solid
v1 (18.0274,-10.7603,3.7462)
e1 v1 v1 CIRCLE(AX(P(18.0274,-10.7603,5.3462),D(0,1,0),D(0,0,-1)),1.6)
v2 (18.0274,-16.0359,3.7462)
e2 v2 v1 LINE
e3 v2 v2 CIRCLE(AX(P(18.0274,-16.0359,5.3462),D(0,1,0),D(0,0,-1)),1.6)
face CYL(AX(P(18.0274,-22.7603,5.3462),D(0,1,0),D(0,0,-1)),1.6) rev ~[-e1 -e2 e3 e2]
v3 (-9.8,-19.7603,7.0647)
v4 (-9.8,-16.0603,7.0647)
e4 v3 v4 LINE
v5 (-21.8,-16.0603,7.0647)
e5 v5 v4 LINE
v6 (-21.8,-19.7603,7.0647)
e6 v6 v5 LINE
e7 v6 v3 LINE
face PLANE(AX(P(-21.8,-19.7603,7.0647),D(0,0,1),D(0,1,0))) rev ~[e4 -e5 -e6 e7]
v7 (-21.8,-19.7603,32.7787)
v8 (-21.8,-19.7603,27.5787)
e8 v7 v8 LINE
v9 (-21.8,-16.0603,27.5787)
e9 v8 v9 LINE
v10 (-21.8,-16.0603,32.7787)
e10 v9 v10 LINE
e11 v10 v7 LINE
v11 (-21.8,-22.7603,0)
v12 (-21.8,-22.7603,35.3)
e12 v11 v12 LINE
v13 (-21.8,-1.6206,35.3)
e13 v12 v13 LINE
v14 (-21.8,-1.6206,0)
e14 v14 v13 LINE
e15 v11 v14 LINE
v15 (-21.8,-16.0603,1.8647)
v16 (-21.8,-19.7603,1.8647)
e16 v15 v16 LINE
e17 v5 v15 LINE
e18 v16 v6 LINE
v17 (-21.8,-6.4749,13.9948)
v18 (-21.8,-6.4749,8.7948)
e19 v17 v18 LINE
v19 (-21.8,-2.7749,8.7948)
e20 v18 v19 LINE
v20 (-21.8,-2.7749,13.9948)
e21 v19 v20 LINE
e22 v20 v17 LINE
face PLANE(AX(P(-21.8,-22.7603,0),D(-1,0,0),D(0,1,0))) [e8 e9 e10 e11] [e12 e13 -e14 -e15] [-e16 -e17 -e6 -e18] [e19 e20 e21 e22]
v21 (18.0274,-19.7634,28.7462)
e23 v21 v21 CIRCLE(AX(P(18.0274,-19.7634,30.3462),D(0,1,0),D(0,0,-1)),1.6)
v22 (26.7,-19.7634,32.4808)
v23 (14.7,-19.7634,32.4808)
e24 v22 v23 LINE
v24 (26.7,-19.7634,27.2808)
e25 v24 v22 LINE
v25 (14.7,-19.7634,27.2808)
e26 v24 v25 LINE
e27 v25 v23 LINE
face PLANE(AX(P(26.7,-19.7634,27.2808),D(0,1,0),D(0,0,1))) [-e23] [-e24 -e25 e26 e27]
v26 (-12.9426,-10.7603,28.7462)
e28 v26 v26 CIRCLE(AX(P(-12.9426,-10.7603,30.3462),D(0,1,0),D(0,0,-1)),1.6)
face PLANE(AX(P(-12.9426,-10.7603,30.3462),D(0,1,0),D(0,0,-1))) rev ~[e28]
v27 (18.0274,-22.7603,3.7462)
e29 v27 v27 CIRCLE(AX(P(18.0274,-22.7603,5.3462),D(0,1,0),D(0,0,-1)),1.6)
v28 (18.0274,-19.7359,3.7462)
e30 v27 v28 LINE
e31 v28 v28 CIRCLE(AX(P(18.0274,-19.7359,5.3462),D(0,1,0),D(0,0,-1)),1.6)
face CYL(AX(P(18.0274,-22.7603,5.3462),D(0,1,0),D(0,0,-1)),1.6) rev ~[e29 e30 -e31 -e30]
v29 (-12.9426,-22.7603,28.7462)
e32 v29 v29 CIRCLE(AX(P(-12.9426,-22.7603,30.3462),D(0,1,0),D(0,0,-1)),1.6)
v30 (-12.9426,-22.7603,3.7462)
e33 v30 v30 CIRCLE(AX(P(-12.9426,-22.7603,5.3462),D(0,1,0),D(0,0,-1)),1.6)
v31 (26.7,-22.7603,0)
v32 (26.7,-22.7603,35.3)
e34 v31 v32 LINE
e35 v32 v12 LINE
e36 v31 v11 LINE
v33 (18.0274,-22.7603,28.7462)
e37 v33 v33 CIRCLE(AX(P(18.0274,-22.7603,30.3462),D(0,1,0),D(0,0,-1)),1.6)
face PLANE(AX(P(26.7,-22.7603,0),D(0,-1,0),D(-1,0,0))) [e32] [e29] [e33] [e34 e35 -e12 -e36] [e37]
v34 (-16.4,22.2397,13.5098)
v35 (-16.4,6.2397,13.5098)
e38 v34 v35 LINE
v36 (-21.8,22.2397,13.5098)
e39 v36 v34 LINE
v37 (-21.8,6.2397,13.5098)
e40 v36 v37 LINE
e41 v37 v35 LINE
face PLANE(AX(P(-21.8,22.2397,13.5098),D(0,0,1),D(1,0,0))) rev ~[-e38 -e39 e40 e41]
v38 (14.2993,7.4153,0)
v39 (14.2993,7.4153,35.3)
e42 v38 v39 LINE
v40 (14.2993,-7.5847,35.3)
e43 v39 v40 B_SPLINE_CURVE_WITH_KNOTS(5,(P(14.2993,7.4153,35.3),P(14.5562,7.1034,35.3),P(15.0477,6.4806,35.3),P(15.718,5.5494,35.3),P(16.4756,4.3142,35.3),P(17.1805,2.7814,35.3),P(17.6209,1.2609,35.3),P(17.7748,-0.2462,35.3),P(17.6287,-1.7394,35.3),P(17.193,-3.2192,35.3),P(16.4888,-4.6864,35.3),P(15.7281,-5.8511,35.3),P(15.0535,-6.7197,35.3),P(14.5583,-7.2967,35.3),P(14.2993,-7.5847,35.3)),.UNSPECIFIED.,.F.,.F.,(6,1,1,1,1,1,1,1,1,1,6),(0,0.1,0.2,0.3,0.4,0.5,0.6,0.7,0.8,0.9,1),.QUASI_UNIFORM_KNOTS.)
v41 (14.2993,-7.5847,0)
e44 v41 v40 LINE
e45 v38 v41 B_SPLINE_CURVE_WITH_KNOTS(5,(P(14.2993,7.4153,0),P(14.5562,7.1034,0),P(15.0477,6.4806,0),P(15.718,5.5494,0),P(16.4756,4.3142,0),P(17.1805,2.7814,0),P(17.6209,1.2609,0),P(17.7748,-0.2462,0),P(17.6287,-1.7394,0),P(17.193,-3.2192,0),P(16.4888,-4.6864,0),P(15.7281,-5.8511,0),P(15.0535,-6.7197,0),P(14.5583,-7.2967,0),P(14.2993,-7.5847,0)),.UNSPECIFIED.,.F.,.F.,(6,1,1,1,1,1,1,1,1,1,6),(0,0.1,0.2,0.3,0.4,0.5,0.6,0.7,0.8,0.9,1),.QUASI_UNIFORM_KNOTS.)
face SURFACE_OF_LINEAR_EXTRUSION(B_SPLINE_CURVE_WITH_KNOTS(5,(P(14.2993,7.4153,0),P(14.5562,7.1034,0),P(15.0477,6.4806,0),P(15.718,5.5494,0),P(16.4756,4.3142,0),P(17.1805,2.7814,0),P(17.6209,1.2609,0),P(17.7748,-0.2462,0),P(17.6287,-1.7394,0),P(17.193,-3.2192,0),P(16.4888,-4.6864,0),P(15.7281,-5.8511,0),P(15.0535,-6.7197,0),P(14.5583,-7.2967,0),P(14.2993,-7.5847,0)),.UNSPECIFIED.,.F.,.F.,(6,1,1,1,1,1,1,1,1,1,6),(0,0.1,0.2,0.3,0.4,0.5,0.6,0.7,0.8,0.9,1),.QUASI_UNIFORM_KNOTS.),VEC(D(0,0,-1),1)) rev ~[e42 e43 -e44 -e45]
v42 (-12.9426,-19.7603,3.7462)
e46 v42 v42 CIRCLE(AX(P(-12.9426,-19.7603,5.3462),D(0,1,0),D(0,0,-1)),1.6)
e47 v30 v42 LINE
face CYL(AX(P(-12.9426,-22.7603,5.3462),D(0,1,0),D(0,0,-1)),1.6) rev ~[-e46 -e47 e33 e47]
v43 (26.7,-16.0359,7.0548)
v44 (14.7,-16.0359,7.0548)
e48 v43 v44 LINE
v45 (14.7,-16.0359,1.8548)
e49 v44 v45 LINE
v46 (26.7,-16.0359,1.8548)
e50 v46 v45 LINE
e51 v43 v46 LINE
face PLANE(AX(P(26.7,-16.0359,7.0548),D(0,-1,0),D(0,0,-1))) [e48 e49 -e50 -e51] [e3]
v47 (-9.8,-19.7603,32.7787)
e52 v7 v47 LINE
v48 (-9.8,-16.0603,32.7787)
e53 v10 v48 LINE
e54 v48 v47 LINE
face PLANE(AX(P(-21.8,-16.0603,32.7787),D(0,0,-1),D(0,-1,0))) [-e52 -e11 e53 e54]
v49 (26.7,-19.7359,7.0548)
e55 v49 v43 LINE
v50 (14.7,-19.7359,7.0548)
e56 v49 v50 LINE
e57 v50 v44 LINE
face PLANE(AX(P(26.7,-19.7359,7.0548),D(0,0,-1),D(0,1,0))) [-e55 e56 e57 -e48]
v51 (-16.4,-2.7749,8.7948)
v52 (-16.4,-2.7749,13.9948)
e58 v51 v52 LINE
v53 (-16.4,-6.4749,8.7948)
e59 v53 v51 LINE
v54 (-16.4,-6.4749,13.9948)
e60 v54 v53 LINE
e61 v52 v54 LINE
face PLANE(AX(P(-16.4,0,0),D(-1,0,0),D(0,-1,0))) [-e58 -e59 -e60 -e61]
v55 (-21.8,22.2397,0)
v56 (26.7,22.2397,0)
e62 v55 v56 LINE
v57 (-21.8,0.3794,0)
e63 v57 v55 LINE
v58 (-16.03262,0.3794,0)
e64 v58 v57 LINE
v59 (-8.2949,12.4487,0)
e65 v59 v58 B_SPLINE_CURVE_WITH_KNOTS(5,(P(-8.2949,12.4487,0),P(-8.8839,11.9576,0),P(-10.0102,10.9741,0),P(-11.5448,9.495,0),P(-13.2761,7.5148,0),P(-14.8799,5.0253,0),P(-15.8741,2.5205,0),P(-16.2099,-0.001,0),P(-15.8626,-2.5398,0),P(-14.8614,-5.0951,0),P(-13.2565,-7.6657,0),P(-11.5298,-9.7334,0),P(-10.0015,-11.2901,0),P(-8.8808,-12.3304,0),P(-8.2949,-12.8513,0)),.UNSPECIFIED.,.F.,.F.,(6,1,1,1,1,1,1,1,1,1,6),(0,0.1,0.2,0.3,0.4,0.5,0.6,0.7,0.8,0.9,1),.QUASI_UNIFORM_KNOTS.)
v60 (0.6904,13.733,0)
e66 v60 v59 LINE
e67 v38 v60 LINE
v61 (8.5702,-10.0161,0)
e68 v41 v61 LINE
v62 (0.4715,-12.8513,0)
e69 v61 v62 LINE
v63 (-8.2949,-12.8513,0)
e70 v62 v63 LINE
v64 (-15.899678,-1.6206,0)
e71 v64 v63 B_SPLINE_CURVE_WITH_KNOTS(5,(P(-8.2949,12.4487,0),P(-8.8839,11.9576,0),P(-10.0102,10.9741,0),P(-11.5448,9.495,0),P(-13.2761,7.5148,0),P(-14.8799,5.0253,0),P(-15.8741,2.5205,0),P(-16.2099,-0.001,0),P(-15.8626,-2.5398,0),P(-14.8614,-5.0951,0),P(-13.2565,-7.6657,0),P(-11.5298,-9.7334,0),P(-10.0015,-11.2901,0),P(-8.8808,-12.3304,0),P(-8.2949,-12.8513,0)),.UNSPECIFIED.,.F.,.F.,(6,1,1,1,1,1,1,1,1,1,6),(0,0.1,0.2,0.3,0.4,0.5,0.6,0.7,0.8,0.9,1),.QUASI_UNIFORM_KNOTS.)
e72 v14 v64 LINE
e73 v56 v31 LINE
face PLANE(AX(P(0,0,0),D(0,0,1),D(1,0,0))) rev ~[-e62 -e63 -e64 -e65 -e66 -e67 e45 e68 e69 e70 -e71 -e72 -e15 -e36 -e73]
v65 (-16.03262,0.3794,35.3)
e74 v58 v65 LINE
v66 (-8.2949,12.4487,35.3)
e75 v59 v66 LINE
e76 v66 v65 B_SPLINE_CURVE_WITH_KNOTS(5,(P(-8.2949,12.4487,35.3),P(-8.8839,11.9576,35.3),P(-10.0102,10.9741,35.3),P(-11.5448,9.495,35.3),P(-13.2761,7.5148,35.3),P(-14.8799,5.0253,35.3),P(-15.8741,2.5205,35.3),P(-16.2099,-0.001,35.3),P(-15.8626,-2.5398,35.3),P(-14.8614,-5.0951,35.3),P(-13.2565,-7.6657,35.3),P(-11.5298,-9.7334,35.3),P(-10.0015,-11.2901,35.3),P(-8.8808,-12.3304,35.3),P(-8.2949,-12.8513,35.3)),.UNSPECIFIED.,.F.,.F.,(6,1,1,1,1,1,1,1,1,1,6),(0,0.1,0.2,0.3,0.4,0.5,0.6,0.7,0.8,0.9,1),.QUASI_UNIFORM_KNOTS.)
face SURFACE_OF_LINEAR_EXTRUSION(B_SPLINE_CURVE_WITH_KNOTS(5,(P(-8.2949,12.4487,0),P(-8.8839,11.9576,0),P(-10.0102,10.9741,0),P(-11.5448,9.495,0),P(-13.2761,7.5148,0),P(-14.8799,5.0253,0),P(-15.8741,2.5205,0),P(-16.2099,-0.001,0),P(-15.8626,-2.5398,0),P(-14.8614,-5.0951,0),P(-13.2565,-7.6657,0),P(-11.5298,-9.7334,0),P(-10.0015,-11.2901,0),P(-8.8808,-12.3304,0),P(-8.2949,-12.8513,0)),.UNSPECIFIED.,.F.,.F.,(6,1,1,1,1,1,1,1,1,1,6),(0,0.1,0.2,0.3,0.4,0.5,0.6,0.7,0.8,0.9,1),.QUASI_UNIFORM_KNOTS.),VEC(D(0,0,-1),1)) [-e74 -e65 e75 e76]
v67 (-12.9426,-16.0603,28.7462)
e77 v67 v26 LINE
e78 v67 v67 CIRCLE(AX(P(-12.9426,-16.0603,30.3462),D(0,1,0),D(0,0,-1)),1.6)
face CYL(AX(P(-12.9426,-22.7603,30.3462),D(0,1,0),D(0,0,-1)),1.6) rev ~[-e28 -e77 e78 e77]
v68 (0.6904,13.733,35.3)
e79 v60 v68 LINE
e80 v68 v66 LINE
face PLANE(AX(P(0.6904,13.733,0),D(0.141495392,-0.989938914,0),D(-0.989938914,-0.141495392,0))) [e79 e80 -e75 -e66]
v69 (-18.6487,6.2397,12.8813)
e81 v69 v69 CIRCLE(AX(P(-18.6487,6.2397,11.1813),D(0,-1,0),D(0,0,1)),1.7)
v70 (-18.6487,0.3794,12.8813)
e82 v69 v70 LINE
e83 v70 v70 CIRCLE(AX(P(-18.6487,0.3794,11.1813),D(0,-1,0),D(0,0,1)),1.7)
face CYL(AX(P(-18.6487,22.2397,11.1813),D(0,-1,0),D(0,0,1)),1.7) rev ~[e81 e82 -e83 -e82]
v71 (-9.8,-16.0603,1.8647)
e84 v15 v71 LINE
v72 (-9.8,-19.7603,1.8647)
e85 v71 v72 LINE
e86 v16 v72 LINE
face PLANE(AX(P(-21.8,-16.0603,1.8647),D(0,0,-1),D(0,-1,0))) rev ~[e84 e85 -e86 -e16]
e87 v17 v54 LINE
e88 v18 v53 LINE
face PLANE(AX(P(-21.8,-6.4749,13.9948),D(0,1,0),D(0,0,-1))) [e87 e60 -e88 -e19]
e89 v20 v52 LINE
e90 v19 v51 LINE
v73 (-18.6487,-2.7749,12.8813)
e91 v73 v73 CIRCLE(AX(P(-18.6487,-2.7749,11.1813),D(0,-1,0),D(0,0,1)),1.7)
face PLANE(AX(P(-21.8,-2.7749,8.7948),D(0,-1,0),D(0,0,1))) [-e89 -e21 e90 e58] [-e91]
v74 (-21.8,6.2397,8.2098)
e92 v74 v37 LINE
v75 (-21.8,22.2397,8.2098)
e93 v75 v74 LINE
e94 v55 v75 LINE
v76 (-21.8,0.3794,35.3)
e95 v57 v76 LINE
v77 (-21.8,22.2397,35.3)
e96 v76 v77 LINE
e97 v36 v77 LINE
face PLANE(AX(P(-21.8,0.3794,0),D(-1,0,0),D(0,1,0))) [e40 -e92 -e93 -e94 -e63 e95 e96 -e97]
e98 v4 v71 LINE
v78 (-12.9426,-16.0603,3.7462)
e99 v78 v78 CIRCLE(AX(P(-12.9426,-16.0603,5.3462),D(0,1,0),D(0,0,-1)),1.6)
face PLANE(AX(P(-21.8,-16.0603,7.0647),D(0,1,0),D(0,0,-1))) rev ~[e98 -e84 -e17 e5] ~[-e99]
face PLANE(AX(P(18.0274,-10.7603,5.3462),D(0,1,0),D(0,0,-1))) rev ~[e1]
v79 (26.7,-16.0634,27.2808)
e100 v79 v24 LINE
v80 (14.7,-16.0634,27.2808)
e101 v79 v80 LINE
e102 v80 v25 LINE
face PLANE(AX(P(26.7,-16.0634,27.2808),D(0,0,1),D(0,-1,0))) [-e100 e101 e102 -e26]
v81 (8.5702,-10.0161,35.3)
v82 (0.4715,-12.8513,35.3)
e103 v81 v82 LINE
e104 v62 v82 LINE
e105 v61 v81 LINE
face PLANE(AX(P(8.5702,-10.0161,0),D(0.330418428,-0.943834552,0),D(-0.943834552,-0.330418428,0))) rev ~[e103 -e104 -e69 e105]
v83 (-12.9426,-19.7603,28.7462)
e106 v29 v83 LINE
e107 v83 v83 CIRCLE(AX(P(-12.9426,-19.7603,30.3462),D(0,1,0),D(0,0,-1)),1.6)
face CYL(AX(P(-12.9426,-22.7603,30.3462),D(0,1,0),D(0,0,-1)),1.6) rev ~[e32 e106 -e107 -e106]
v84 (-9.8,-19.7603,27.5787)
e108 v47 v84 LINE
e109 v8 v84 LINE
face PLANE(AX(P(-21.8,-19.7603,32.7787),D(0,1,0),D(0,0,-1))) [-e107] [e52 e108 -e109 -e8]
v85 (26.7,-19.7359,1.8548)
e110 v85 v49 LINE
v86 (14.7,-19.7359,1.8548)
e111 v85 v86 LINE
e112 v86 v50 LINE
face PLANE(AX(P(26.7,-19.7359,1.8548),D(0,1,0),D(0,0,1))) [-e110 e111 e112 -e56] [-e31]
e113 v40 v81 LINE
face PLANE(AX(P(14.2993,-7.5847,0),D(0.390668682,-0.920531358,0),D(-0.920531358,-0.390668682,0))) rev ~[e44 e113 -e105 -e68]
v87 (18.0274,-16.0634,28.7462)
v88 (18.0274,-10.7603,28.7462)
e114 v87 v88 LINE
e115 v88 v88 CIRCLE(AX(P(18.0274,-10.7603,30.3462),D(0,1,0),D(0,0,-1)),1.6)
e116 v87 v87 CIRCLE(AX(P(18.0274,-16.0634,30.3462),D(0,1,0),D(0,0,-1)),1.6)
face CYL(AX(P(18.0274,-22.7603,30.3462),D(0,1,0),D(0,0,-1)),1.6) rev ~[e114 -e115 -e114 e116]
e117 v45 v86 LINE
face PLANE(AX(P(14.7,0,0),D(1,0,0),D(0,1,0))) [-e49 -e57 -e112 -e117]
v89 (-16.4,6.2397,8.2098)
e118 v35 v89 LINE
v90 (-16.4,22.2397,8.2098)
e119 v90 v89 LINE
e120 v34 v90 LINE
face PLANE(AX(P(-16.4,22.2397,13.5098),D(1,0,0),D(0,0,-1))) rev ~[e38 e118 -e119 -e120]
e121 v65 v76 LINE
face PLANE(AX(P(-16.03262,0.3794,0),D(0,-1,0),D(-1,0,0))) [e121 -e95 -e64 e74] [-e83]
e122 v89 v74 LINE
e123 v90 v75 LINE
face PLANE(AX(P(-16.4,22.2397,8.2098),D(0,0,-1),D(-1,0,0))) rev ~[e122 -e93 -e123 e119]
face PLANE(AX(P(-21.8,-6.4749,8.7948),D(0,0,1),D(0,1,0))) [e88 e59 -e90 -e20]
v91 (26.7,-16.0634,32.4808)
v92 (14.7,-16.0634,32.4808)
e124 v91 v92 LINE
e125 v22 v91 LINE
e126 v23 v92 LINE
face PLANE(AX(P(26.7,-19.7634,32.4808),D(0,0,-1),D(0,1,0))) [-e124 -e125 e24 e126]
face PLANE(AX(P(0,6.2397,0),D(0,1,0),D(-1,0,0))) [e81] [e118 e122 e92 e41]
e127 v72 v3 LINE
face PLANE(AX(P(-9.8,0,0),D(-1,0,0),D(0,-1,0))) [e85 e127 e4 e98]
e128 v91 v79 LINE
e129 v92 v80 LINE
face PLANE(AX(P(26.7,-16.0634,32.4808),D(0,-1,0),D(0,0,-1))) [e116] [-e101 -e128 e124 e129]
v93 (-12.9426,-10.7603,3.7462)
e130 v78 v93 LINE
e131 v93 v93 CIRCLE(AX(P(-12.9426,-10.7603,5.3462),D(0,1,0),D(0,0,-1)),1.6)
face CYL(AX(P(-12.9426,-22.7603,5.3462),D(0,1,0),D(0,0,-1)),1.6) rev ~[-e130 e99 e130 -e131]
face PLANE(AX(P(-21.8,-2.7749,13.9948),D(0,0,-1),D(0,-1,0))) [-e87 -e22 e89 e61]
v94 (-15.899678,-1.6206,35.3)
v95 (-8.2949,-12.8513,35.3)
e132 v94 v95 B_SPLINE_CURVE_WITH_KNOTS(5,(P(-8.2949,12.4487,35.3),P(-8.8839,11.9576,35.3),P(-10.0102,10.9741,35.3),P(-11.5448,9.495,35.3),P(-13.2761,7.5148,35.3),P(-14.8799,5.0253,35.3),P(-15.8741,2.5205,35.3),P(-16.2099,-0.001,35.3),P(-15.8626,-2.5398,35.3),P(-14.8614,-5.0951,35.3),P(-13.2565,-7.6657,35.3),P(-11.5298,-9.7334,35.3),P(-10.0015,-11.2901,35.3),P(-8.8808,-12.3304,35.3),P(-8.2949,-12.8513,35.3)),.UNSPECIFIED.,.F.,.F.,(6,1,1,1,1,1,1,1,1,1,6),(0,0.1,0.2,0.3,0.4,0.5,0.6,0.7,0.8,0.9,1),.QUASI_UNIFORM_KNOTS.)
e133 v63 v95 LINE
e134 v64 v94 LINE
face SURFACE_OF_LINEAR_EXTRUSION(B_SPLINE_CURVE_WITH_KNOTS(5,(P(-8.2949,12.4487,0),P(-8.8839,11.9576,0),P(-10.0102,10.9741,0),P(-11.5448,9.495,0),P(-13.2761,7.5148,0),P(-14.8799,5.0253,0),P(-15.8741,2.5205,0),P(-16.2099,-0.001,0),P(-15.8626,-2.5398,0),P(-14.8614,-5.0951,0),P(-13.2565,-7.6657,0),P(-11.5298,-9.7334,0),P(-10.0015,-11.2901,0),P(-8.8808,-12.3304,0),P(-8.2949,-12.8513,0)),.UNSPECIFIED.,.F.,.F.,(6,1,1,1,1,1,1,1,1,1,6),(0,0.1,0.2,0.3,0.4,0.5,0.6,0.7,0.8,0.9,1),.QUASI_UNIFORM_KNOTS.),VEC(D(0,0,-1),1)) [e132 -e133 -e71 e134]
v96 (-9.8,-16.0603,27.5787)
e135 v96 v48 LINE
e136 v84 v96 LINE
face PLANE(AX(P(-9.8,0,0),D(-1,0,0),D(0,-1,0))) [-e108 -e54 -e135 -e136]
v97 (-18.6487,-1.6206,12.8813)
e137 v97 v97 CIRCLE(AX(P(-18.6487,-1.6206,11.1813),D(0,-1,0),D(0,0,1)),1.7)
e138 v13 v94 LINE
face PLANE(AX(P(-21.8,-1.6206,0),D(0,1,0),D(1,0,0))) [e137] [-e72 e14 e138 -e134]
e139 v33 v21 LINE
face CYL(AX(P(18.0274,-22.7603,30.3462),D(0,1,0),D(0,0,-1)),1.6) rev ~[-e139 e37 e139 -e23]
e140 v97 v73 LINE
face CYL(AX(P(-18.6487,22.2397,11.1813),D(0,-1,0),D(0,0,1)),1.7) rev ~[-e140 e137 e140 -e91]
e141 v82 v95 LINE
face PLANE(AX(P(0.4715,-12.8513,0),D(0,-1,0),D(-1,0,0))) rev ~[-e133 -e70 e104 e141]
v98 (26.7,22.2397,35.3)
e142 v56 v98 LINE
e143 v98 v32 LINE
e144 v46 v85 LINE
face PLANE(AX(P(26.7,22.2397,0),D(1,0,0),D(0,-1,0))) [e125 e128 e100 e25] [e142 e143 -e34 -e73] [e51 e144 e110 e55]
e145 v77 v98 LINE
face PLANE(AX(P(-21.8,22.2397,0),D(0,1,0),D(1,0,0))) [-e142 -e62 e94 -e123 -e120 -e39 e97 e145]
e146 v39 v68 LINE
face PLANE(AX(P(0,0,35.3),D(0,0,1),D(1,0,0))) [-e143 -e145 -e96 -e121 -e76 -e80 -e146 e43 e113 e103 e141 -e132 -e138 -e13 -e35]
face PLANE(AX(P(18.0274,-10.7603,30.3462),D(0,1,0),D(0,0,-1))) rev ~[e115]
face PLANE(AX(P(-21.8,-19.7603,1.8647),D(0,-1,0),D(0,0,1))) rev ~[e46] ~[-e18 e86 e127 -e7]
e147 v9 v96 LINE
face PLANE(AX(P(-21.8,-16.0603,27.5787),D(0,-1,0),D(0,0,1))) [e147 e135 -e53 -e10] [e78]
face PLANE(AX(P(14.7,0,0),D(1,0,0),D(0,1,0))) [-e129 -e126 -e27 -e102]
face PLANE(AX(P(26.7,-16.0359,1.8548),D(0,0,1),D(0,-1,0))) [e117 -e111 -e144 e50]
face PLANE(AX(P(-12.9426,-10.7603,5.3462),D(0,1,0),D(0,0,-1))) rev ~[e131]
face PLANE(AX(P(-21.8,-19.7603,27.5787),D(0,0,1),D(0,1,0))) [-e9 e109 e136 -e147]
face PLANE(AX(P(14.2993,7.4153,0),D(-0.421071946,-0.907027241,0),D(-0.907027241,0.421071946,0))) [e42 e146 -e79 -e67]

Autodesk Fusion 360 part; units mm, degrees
sketch "Sketch1" plane through (0, 0, 0) normal (0, 0, 1) x (1, 0, 0)
  line L0 (-21.8, 22.2397) -> (26.7, 22.2397)
  line L1 (26.7, 22.2397) -> (26.7, -22.7603)
  line L2 (26.7, -22.7603) -> (-21.8, -22.7603)
  line L3 (-21.8, -22.7603) -> (-21.8, 22.2397)
  spline S0 degree 5 poles (-8.2949, 12.4487) (-8.8839, 11.9576) (-10.0102, 10.9741) (-11.5448, 9.495) (-13.2761, 7.5148) (-14.8799, 5.0253) (-15.8741, 2.5205) (-16.2099, -0.001) (-15.8626, -2.5398) (-14.8614, -5.0951) (-13.2565, -7.6657) (-11.5298, -9.7334) (-10.0015, -11.2901) (-8.8808, -12.3304) (-8.2949, -12.8513) knots 0 0 0 0 0 0 0.1 0.2 0.3 0.4 0.5 0.6 0.7 0.8 0.9 1 1 1 1 1 1
  spline S1 degree 5 poles (14.2993, 7.4153) (14.5562, 7.1034) (15.0477, 6.4806) (15.718, 5.5494) (16.4756, 4.3142) (17.1805, 2.7814) (17.6209, 1.2609) (17.7748, -0.2462) (17.6287, -1.7394) (17.193, -3.2192) (16.4888, -4.6864) (15.7281, -5.8511) (15.0535, -6.7197) (14.5583, -7.2967) (14.2993, -7.5847) knots 0 0 0 0 0 0 0.1 0.2 0.3 0.4 0.5 0.6 0.7 0.8 0.9 1 1 1 1 1 1
  line L4 (-21.8, -1.6206) -> (-14.6097, -1.6206)
  line L5 (-14.6097, -1.6206) -> (-14.6097, 0.3794)
  line L6 (-14.6097, 0.3794) -> (-21.8, 0.3794)
  line L7 (14.2993, 7.4153) -> (0.6904, 13.733)
  line L8 (0.6904, 13.733) -> (-8.2949, 12.4487)
  line L9 (0.4715, -12.8513) -> (-8.2949, -12.8513)
  line L10 (14.2993, -7.5847) -> (8.5702, -10.0161)
  line L11 (8.5702, -10.0161) -> (0.4715, -12.8513)
  point P0 (-16.0393, 0.095)
  point P1 (17.6997, -0.3339)
  dimension "d6" = 48.5
  dimension "d7" = 45
  dimension "d8" = 15
  dimension "d9" = 25.3
  dimension "d11" = 2
extrude "Extrude1" add sketch "Sketch1" along normal blind 35.3 contours L0 L1 L2 L3 S0 S1 L4 L6 L7 L8 L9 L10 L11
sketch "bad_sketch" plane through (0, 0, 0) normal (0, 0, 1) x (1, 0, 0)
  line L0 (24.6924, 6.1679) -> (15.4617, 8.9936)
  line L1 (15.4617, 8.9936) -> (5.166, 12.1454)
  line L2 (5.166, 12.1454) -> (-5.166, 12.8182)
  line L3 (-5.166, 12.8182) -> (-14.9618, 9.182)
  line L4 (-14.9618, 9.182) -> (-20.3307, 2.1177)
  line L5 (-20.3307, 2.1177) -> (-20.3307, -2.686)
  line L6 (-20.3307, -2.686) -> (-14.9618, -8.9968)
  line L7 (-14.9618, -8.9968) -> (-10.0639, -11.3515)
  line L8 (-10.0639, -11.3515) -> (-5.166, -12.4818)
  line L9 (-5.166, -12.4818) -> (5.166, -12.4818)
  line L10 (5.166, -12.4818) -> (10.3139, -11.0689)
  line L11 (10.3139, -11.0689) -> (24.6924, -8.2432)
  line L12 (24.6924, -8.2432) -> (28.2717, -1.8383)
  line L13 (28.2717, -1.8383) -> (28.9264, 0.3007)
  line L14 (28.9264, 0.3007) -> (26.482, 5.6201)
  line L15 (26.482, 5.6201) -> (24.6924, 6.1679)
  line L16 (-28.837, -17.65) -> (19.663, -17.65)
  line L17 (19.663, -17.65) -> (19.663, 27.35)
  line L18 (19.663, 27.35) -> (-28.837, 27.35)
  line L19 (-28.837, 27.35) -> (-28.837, -17.65)
  line L20 (-28.837, -1.4888) -> (-19.0112, -1.4888)
  line L21 (-19.0112, -1.4888) -> (-19.0112, 0.5112)
  line L22 (-19.0112, 0.5112) -> (-28.837, 0.5112)
  line L23 (-28.837, 0.5112) -> (-28.837, -1.4888)
  dimension "d15" = 48.5
  dimension "d16" = 45
  dimension "d17" = 2
sketch "Sketch3" plane through (0, 22.2397, 0) normal (0, 1, 0) x (-1, 0, 0)
  line L0 (-26.7, 0) -> (21.8, 0)
  line L1 (21.8, 0) -> (21.8, 35.3)
  line L2 (21.8, 35.3) -> (-26.7, 35.3)
  line L3 (-26.7, 35.3) -> (-26.7, 0)
  circle A0 centre (18.6487, 11.1813) radius 1.7
  line L4 (21.8, 13.5098) -> (16.4, 13.5098)
  line L5 (16.4, 13.5098) -> (16.4, 8.2098)
  line L6 (16.4, 8.2098) -> (21.8, 8.2098)
  line L7 (21.8, 8.2098) -> (21.8, 13.5098)
  dimension "d23" = 3.4
  dimension "d26" = 5.4
  dimension "d27" = 5.3
hole "Hole1" at (-18.6487, 22.2397, 11.1813) direction (0, -1, 0) diameter 3.4 depth 26 tip angle 180
extrude "Extrude3" cut sketch "Sketch3" against normal blind 16 contours L1 L4 L5 L6 L7
sketch "Sketch4" plane through (0, -22.7603, 0) normal (0, -1, 0) x (1, 0, 0)
  line L0 (-21.8, 0) -> (26.7, 0)
  line L1 (26.7, 0) -> (26.7, 35.3)
  line L2 (26.7, 35.3) -> (-21.8, 35.3)
  line L3 (-21.8, 35.3) -> (-21.8, 0)
  line L4 (18.0274, 30.3462) -> (-12.9426, 30.3462)
  line L5 (18.0274, 30.3462) -> (18.0274, 5.3462)
  line L6 (18.0274, 5.3462) -> (-12.9426, 5.3462)
  circle A0 centre (18.0274, 5.3462) radius 1.6
  circle A1 centre (-12.9426, 5.3462) radius 1.6
  circle A2 centre (18.0274, 30.3462) radius 1.6
  circle A3 centre (-12.9426, 30.3462) radius 1.6
  line L7 (26.7, 14.5722) -> (17.935, 14.5722)
  dimension "d36" = 30.97
  dimension "d38" = 25
  dimension "d40" = 30.97
  dimension "d41" = 3.2
  dimension "d42" = 3.2
  dimension "d43" = 3.2
  dimension "d44" = 3.2
  dimension "d45" = 8.765
hole "Hole2" at (18.0274, -22.7603, 5.3462) at (-12.9426, -22.7603, 5.3462) at (18.0274, -22.7603, 30.3462) at (-12.9426, -22.7603, 30.3462) direction (0, 1, 0) diameter 3.2 depth 12 tip angle 180
sketch "Sketch5" plane through (-21.8, 0, 0) normal (-1, 0, 0) x (0, -1, 0)
  line L0 (1.6206, 0) -> (22.7603, 0)
  line L1 (22.7603, 0) -> (22.7603, 35.3)
  line L2 (22.7603, 35.3) -> (1.6206, 35.3)
  line L3 (1.6206, 35.3) -> (1.6206, 0)
  line L4 (22.7603, 16.2062) -> (19.7603, 16.2062)
  line L5 (19.7603, 7.0647) -> (16.0603, 7.0647)
  line L6 (16.0603, 7.0647) -> (16.0603, 1.8647)
  line L7 (16.0603, 1.8647) -> (19.7603, 1.8647)
  line L8 (19.7603, 1.8647) -> (19.7603, 7.0647)
  line L9 (19.7603, 27.5787) -> (16.0603, 27.5787)
  line L10 (16.0603, 27.5787) -> (16.0603, 32.7787)
  line L11 (16.0603, 32.7787) -> (19.7603, 32.7787)
  line L12 (19.7603, 32.7787) -> (19.7603, 27.5787)
  line L13 (6.4749, 8.7948) -> (2.7749, 8.7948)
  line L14 (2.7749, 8.7948) -> (2.7749, 13.9948)
  line L15 (2.7749, 13.9948) -> (6.4749, 13.9948)
  line L16 (6.4749, 13.9948) -> (6.4749, 8.7948)
  dimension "d55" = 3
  dimension "d56" = 3.7
  dimension "d57" = 5.2
  dimension "d58" = 3.7
  dimension "d59" = 5.2
  dimension "d65" = 3.7
  dimension "d66" = 5.2
extrude "Extrude4" cut sketch "Sketch5" against normal blind 12 contours L9 L10 L11 L12
extrude "Extrude5" cut sketch "Sketch5" against normal blind 12 contours L5 L6 L7 L8
extrude "Extrude6" cut sketch "Sketch5" against normal blind 5.4 contours L13 L14 L15 L16
sketch "Sketch7" plane through (26.7, 0, 0) normal (1, 0, 0) x (0, 1, 0)
  line L0 (-22.7603, 0) -> (22.2397, 0)
  line L1 (22.2397, 0) -> (22.2397, 35.3)
  line L2 (22.2397, 35.3) -> (-22.7603, 35.3)
  line L3 (-22.7603, 35.3) -> (-22.7603, 0)
  line L4 (-19.7634, 32.4808) -> (-16.0634, 32.4808)
  line L5 (-16.0634, 32.4808) -> (-16.0634, 27.2808)
  line L6 (-16.0634, 27.2808) -> (-19.7634, 27.2808)
  line L7 (-19.7634, 27.2808) -> (-19.7634, 32.4808)
  line L8 (-19.7359, 7.0548) -> (-16.0359, 7.0548)
  line L9 (-16.0359, 7.0548) -> (-16.0359, 1.8548)
  line L10 (-16.0359, 1.8548) -> (-19.7359, 1.8548)
  line L11 (-19.7359, 1.8548) -> (-19.7359, 7.0548)
  dimension "d76" = 3.7
  dimension "d77" = 5.2
  dimension "d78" = 3.7
  dimension "d79" = 5.2
extrude "Extrude8" cut sketch "Sketch7" against normal blind 12 contours L4 L5 L6 L7 | L8 L9 L10 L11
equation "syringe_height = 25.3 mm"
equation "syringe_width = 33.6 mm"
equation "height = 45 mm"
equation "width = 48.5 mm"
equation "width4 = 15 mm"
equation "d6 = width"
equation "d7 = height"
equation "d8 = width4"
equation "d9 = syringe_height"
equation "gap_width = 2 mm"
equation "d11 = gap_width"
equation "d12 = holder_depth"
equation "d15 = width"
equation "d16 = height"
equation "d17 = gap_width"
equation "length = 3 mm"
equation "holder_depth = 35.3 mm"
equation "m3_screw_diameter = 3.4 mm"
equation "d23 = m3_screw_diameter"
equation "rect_clearing_width = 5.3 mm"
equation "rect_clearing_length = 5.4 mm"
equation "d26 = rect_clearing_length"
equation "d27 = rect_clearing_width"
equation "d28 = joining_m3_screw_length"
equation "d29 = m3_screw_diameter"
equation "joining_m3_screw_length = 26 mm"
equation "d32 = -rect_clearing_distance"
equation "rect_clearing_distance = 16 mm"
equation "m3_screw_lateral_dis = 30.97 mm"
equation "d36 = m3_screw_lateral_dis"
equation "m3_screw_vertical_dis = 25 mm"
equation "d38 = m3_screw_vertical_dis"
equation "m3_diameter = 3.2 mm"
equation "d40 = m3_screw_lateral_dis"
equation "d41 = m3_diameter"
equation "d42 = m3_diameter"
equation "d43 = m3_diameter"
equation "d44 = m3_diameter"
equation "d46 = m3_screw_depth"
equation "d47 = m3_diameter"
equation "m3_screw_depth = 12 mm"
equation "nut_insert_width = 3.7 mm"
equation "nut_insert_height = 5.2 mm"
equation "screw_nut_distance = 3 mm"
equation "d55 = screw_nut_distance"
equation "d56 = nut_insert_width"
equation "d57 = nut_insert_height"
equation "d58 = nut_insert_width"
equation "d59 = nut_insert_height"
equation "d60 = -m3_screw_depth"
equation "d62 = -m3_screw_depth"
equation "d65 = nut_insert_width"
equation "d66 = nut_insert_height"
equation "d67 = -clamp_nut_depth"
equation "clamp_nut_depth = 5.4 mm"
equation "d76 = nut_insert_width"
equation "d77 = nut_insert_height"
equation "d78 = nut_insert_width"
equation "d79 = nut_insert_height"
equation "d80 = -m3_screw_depth"
